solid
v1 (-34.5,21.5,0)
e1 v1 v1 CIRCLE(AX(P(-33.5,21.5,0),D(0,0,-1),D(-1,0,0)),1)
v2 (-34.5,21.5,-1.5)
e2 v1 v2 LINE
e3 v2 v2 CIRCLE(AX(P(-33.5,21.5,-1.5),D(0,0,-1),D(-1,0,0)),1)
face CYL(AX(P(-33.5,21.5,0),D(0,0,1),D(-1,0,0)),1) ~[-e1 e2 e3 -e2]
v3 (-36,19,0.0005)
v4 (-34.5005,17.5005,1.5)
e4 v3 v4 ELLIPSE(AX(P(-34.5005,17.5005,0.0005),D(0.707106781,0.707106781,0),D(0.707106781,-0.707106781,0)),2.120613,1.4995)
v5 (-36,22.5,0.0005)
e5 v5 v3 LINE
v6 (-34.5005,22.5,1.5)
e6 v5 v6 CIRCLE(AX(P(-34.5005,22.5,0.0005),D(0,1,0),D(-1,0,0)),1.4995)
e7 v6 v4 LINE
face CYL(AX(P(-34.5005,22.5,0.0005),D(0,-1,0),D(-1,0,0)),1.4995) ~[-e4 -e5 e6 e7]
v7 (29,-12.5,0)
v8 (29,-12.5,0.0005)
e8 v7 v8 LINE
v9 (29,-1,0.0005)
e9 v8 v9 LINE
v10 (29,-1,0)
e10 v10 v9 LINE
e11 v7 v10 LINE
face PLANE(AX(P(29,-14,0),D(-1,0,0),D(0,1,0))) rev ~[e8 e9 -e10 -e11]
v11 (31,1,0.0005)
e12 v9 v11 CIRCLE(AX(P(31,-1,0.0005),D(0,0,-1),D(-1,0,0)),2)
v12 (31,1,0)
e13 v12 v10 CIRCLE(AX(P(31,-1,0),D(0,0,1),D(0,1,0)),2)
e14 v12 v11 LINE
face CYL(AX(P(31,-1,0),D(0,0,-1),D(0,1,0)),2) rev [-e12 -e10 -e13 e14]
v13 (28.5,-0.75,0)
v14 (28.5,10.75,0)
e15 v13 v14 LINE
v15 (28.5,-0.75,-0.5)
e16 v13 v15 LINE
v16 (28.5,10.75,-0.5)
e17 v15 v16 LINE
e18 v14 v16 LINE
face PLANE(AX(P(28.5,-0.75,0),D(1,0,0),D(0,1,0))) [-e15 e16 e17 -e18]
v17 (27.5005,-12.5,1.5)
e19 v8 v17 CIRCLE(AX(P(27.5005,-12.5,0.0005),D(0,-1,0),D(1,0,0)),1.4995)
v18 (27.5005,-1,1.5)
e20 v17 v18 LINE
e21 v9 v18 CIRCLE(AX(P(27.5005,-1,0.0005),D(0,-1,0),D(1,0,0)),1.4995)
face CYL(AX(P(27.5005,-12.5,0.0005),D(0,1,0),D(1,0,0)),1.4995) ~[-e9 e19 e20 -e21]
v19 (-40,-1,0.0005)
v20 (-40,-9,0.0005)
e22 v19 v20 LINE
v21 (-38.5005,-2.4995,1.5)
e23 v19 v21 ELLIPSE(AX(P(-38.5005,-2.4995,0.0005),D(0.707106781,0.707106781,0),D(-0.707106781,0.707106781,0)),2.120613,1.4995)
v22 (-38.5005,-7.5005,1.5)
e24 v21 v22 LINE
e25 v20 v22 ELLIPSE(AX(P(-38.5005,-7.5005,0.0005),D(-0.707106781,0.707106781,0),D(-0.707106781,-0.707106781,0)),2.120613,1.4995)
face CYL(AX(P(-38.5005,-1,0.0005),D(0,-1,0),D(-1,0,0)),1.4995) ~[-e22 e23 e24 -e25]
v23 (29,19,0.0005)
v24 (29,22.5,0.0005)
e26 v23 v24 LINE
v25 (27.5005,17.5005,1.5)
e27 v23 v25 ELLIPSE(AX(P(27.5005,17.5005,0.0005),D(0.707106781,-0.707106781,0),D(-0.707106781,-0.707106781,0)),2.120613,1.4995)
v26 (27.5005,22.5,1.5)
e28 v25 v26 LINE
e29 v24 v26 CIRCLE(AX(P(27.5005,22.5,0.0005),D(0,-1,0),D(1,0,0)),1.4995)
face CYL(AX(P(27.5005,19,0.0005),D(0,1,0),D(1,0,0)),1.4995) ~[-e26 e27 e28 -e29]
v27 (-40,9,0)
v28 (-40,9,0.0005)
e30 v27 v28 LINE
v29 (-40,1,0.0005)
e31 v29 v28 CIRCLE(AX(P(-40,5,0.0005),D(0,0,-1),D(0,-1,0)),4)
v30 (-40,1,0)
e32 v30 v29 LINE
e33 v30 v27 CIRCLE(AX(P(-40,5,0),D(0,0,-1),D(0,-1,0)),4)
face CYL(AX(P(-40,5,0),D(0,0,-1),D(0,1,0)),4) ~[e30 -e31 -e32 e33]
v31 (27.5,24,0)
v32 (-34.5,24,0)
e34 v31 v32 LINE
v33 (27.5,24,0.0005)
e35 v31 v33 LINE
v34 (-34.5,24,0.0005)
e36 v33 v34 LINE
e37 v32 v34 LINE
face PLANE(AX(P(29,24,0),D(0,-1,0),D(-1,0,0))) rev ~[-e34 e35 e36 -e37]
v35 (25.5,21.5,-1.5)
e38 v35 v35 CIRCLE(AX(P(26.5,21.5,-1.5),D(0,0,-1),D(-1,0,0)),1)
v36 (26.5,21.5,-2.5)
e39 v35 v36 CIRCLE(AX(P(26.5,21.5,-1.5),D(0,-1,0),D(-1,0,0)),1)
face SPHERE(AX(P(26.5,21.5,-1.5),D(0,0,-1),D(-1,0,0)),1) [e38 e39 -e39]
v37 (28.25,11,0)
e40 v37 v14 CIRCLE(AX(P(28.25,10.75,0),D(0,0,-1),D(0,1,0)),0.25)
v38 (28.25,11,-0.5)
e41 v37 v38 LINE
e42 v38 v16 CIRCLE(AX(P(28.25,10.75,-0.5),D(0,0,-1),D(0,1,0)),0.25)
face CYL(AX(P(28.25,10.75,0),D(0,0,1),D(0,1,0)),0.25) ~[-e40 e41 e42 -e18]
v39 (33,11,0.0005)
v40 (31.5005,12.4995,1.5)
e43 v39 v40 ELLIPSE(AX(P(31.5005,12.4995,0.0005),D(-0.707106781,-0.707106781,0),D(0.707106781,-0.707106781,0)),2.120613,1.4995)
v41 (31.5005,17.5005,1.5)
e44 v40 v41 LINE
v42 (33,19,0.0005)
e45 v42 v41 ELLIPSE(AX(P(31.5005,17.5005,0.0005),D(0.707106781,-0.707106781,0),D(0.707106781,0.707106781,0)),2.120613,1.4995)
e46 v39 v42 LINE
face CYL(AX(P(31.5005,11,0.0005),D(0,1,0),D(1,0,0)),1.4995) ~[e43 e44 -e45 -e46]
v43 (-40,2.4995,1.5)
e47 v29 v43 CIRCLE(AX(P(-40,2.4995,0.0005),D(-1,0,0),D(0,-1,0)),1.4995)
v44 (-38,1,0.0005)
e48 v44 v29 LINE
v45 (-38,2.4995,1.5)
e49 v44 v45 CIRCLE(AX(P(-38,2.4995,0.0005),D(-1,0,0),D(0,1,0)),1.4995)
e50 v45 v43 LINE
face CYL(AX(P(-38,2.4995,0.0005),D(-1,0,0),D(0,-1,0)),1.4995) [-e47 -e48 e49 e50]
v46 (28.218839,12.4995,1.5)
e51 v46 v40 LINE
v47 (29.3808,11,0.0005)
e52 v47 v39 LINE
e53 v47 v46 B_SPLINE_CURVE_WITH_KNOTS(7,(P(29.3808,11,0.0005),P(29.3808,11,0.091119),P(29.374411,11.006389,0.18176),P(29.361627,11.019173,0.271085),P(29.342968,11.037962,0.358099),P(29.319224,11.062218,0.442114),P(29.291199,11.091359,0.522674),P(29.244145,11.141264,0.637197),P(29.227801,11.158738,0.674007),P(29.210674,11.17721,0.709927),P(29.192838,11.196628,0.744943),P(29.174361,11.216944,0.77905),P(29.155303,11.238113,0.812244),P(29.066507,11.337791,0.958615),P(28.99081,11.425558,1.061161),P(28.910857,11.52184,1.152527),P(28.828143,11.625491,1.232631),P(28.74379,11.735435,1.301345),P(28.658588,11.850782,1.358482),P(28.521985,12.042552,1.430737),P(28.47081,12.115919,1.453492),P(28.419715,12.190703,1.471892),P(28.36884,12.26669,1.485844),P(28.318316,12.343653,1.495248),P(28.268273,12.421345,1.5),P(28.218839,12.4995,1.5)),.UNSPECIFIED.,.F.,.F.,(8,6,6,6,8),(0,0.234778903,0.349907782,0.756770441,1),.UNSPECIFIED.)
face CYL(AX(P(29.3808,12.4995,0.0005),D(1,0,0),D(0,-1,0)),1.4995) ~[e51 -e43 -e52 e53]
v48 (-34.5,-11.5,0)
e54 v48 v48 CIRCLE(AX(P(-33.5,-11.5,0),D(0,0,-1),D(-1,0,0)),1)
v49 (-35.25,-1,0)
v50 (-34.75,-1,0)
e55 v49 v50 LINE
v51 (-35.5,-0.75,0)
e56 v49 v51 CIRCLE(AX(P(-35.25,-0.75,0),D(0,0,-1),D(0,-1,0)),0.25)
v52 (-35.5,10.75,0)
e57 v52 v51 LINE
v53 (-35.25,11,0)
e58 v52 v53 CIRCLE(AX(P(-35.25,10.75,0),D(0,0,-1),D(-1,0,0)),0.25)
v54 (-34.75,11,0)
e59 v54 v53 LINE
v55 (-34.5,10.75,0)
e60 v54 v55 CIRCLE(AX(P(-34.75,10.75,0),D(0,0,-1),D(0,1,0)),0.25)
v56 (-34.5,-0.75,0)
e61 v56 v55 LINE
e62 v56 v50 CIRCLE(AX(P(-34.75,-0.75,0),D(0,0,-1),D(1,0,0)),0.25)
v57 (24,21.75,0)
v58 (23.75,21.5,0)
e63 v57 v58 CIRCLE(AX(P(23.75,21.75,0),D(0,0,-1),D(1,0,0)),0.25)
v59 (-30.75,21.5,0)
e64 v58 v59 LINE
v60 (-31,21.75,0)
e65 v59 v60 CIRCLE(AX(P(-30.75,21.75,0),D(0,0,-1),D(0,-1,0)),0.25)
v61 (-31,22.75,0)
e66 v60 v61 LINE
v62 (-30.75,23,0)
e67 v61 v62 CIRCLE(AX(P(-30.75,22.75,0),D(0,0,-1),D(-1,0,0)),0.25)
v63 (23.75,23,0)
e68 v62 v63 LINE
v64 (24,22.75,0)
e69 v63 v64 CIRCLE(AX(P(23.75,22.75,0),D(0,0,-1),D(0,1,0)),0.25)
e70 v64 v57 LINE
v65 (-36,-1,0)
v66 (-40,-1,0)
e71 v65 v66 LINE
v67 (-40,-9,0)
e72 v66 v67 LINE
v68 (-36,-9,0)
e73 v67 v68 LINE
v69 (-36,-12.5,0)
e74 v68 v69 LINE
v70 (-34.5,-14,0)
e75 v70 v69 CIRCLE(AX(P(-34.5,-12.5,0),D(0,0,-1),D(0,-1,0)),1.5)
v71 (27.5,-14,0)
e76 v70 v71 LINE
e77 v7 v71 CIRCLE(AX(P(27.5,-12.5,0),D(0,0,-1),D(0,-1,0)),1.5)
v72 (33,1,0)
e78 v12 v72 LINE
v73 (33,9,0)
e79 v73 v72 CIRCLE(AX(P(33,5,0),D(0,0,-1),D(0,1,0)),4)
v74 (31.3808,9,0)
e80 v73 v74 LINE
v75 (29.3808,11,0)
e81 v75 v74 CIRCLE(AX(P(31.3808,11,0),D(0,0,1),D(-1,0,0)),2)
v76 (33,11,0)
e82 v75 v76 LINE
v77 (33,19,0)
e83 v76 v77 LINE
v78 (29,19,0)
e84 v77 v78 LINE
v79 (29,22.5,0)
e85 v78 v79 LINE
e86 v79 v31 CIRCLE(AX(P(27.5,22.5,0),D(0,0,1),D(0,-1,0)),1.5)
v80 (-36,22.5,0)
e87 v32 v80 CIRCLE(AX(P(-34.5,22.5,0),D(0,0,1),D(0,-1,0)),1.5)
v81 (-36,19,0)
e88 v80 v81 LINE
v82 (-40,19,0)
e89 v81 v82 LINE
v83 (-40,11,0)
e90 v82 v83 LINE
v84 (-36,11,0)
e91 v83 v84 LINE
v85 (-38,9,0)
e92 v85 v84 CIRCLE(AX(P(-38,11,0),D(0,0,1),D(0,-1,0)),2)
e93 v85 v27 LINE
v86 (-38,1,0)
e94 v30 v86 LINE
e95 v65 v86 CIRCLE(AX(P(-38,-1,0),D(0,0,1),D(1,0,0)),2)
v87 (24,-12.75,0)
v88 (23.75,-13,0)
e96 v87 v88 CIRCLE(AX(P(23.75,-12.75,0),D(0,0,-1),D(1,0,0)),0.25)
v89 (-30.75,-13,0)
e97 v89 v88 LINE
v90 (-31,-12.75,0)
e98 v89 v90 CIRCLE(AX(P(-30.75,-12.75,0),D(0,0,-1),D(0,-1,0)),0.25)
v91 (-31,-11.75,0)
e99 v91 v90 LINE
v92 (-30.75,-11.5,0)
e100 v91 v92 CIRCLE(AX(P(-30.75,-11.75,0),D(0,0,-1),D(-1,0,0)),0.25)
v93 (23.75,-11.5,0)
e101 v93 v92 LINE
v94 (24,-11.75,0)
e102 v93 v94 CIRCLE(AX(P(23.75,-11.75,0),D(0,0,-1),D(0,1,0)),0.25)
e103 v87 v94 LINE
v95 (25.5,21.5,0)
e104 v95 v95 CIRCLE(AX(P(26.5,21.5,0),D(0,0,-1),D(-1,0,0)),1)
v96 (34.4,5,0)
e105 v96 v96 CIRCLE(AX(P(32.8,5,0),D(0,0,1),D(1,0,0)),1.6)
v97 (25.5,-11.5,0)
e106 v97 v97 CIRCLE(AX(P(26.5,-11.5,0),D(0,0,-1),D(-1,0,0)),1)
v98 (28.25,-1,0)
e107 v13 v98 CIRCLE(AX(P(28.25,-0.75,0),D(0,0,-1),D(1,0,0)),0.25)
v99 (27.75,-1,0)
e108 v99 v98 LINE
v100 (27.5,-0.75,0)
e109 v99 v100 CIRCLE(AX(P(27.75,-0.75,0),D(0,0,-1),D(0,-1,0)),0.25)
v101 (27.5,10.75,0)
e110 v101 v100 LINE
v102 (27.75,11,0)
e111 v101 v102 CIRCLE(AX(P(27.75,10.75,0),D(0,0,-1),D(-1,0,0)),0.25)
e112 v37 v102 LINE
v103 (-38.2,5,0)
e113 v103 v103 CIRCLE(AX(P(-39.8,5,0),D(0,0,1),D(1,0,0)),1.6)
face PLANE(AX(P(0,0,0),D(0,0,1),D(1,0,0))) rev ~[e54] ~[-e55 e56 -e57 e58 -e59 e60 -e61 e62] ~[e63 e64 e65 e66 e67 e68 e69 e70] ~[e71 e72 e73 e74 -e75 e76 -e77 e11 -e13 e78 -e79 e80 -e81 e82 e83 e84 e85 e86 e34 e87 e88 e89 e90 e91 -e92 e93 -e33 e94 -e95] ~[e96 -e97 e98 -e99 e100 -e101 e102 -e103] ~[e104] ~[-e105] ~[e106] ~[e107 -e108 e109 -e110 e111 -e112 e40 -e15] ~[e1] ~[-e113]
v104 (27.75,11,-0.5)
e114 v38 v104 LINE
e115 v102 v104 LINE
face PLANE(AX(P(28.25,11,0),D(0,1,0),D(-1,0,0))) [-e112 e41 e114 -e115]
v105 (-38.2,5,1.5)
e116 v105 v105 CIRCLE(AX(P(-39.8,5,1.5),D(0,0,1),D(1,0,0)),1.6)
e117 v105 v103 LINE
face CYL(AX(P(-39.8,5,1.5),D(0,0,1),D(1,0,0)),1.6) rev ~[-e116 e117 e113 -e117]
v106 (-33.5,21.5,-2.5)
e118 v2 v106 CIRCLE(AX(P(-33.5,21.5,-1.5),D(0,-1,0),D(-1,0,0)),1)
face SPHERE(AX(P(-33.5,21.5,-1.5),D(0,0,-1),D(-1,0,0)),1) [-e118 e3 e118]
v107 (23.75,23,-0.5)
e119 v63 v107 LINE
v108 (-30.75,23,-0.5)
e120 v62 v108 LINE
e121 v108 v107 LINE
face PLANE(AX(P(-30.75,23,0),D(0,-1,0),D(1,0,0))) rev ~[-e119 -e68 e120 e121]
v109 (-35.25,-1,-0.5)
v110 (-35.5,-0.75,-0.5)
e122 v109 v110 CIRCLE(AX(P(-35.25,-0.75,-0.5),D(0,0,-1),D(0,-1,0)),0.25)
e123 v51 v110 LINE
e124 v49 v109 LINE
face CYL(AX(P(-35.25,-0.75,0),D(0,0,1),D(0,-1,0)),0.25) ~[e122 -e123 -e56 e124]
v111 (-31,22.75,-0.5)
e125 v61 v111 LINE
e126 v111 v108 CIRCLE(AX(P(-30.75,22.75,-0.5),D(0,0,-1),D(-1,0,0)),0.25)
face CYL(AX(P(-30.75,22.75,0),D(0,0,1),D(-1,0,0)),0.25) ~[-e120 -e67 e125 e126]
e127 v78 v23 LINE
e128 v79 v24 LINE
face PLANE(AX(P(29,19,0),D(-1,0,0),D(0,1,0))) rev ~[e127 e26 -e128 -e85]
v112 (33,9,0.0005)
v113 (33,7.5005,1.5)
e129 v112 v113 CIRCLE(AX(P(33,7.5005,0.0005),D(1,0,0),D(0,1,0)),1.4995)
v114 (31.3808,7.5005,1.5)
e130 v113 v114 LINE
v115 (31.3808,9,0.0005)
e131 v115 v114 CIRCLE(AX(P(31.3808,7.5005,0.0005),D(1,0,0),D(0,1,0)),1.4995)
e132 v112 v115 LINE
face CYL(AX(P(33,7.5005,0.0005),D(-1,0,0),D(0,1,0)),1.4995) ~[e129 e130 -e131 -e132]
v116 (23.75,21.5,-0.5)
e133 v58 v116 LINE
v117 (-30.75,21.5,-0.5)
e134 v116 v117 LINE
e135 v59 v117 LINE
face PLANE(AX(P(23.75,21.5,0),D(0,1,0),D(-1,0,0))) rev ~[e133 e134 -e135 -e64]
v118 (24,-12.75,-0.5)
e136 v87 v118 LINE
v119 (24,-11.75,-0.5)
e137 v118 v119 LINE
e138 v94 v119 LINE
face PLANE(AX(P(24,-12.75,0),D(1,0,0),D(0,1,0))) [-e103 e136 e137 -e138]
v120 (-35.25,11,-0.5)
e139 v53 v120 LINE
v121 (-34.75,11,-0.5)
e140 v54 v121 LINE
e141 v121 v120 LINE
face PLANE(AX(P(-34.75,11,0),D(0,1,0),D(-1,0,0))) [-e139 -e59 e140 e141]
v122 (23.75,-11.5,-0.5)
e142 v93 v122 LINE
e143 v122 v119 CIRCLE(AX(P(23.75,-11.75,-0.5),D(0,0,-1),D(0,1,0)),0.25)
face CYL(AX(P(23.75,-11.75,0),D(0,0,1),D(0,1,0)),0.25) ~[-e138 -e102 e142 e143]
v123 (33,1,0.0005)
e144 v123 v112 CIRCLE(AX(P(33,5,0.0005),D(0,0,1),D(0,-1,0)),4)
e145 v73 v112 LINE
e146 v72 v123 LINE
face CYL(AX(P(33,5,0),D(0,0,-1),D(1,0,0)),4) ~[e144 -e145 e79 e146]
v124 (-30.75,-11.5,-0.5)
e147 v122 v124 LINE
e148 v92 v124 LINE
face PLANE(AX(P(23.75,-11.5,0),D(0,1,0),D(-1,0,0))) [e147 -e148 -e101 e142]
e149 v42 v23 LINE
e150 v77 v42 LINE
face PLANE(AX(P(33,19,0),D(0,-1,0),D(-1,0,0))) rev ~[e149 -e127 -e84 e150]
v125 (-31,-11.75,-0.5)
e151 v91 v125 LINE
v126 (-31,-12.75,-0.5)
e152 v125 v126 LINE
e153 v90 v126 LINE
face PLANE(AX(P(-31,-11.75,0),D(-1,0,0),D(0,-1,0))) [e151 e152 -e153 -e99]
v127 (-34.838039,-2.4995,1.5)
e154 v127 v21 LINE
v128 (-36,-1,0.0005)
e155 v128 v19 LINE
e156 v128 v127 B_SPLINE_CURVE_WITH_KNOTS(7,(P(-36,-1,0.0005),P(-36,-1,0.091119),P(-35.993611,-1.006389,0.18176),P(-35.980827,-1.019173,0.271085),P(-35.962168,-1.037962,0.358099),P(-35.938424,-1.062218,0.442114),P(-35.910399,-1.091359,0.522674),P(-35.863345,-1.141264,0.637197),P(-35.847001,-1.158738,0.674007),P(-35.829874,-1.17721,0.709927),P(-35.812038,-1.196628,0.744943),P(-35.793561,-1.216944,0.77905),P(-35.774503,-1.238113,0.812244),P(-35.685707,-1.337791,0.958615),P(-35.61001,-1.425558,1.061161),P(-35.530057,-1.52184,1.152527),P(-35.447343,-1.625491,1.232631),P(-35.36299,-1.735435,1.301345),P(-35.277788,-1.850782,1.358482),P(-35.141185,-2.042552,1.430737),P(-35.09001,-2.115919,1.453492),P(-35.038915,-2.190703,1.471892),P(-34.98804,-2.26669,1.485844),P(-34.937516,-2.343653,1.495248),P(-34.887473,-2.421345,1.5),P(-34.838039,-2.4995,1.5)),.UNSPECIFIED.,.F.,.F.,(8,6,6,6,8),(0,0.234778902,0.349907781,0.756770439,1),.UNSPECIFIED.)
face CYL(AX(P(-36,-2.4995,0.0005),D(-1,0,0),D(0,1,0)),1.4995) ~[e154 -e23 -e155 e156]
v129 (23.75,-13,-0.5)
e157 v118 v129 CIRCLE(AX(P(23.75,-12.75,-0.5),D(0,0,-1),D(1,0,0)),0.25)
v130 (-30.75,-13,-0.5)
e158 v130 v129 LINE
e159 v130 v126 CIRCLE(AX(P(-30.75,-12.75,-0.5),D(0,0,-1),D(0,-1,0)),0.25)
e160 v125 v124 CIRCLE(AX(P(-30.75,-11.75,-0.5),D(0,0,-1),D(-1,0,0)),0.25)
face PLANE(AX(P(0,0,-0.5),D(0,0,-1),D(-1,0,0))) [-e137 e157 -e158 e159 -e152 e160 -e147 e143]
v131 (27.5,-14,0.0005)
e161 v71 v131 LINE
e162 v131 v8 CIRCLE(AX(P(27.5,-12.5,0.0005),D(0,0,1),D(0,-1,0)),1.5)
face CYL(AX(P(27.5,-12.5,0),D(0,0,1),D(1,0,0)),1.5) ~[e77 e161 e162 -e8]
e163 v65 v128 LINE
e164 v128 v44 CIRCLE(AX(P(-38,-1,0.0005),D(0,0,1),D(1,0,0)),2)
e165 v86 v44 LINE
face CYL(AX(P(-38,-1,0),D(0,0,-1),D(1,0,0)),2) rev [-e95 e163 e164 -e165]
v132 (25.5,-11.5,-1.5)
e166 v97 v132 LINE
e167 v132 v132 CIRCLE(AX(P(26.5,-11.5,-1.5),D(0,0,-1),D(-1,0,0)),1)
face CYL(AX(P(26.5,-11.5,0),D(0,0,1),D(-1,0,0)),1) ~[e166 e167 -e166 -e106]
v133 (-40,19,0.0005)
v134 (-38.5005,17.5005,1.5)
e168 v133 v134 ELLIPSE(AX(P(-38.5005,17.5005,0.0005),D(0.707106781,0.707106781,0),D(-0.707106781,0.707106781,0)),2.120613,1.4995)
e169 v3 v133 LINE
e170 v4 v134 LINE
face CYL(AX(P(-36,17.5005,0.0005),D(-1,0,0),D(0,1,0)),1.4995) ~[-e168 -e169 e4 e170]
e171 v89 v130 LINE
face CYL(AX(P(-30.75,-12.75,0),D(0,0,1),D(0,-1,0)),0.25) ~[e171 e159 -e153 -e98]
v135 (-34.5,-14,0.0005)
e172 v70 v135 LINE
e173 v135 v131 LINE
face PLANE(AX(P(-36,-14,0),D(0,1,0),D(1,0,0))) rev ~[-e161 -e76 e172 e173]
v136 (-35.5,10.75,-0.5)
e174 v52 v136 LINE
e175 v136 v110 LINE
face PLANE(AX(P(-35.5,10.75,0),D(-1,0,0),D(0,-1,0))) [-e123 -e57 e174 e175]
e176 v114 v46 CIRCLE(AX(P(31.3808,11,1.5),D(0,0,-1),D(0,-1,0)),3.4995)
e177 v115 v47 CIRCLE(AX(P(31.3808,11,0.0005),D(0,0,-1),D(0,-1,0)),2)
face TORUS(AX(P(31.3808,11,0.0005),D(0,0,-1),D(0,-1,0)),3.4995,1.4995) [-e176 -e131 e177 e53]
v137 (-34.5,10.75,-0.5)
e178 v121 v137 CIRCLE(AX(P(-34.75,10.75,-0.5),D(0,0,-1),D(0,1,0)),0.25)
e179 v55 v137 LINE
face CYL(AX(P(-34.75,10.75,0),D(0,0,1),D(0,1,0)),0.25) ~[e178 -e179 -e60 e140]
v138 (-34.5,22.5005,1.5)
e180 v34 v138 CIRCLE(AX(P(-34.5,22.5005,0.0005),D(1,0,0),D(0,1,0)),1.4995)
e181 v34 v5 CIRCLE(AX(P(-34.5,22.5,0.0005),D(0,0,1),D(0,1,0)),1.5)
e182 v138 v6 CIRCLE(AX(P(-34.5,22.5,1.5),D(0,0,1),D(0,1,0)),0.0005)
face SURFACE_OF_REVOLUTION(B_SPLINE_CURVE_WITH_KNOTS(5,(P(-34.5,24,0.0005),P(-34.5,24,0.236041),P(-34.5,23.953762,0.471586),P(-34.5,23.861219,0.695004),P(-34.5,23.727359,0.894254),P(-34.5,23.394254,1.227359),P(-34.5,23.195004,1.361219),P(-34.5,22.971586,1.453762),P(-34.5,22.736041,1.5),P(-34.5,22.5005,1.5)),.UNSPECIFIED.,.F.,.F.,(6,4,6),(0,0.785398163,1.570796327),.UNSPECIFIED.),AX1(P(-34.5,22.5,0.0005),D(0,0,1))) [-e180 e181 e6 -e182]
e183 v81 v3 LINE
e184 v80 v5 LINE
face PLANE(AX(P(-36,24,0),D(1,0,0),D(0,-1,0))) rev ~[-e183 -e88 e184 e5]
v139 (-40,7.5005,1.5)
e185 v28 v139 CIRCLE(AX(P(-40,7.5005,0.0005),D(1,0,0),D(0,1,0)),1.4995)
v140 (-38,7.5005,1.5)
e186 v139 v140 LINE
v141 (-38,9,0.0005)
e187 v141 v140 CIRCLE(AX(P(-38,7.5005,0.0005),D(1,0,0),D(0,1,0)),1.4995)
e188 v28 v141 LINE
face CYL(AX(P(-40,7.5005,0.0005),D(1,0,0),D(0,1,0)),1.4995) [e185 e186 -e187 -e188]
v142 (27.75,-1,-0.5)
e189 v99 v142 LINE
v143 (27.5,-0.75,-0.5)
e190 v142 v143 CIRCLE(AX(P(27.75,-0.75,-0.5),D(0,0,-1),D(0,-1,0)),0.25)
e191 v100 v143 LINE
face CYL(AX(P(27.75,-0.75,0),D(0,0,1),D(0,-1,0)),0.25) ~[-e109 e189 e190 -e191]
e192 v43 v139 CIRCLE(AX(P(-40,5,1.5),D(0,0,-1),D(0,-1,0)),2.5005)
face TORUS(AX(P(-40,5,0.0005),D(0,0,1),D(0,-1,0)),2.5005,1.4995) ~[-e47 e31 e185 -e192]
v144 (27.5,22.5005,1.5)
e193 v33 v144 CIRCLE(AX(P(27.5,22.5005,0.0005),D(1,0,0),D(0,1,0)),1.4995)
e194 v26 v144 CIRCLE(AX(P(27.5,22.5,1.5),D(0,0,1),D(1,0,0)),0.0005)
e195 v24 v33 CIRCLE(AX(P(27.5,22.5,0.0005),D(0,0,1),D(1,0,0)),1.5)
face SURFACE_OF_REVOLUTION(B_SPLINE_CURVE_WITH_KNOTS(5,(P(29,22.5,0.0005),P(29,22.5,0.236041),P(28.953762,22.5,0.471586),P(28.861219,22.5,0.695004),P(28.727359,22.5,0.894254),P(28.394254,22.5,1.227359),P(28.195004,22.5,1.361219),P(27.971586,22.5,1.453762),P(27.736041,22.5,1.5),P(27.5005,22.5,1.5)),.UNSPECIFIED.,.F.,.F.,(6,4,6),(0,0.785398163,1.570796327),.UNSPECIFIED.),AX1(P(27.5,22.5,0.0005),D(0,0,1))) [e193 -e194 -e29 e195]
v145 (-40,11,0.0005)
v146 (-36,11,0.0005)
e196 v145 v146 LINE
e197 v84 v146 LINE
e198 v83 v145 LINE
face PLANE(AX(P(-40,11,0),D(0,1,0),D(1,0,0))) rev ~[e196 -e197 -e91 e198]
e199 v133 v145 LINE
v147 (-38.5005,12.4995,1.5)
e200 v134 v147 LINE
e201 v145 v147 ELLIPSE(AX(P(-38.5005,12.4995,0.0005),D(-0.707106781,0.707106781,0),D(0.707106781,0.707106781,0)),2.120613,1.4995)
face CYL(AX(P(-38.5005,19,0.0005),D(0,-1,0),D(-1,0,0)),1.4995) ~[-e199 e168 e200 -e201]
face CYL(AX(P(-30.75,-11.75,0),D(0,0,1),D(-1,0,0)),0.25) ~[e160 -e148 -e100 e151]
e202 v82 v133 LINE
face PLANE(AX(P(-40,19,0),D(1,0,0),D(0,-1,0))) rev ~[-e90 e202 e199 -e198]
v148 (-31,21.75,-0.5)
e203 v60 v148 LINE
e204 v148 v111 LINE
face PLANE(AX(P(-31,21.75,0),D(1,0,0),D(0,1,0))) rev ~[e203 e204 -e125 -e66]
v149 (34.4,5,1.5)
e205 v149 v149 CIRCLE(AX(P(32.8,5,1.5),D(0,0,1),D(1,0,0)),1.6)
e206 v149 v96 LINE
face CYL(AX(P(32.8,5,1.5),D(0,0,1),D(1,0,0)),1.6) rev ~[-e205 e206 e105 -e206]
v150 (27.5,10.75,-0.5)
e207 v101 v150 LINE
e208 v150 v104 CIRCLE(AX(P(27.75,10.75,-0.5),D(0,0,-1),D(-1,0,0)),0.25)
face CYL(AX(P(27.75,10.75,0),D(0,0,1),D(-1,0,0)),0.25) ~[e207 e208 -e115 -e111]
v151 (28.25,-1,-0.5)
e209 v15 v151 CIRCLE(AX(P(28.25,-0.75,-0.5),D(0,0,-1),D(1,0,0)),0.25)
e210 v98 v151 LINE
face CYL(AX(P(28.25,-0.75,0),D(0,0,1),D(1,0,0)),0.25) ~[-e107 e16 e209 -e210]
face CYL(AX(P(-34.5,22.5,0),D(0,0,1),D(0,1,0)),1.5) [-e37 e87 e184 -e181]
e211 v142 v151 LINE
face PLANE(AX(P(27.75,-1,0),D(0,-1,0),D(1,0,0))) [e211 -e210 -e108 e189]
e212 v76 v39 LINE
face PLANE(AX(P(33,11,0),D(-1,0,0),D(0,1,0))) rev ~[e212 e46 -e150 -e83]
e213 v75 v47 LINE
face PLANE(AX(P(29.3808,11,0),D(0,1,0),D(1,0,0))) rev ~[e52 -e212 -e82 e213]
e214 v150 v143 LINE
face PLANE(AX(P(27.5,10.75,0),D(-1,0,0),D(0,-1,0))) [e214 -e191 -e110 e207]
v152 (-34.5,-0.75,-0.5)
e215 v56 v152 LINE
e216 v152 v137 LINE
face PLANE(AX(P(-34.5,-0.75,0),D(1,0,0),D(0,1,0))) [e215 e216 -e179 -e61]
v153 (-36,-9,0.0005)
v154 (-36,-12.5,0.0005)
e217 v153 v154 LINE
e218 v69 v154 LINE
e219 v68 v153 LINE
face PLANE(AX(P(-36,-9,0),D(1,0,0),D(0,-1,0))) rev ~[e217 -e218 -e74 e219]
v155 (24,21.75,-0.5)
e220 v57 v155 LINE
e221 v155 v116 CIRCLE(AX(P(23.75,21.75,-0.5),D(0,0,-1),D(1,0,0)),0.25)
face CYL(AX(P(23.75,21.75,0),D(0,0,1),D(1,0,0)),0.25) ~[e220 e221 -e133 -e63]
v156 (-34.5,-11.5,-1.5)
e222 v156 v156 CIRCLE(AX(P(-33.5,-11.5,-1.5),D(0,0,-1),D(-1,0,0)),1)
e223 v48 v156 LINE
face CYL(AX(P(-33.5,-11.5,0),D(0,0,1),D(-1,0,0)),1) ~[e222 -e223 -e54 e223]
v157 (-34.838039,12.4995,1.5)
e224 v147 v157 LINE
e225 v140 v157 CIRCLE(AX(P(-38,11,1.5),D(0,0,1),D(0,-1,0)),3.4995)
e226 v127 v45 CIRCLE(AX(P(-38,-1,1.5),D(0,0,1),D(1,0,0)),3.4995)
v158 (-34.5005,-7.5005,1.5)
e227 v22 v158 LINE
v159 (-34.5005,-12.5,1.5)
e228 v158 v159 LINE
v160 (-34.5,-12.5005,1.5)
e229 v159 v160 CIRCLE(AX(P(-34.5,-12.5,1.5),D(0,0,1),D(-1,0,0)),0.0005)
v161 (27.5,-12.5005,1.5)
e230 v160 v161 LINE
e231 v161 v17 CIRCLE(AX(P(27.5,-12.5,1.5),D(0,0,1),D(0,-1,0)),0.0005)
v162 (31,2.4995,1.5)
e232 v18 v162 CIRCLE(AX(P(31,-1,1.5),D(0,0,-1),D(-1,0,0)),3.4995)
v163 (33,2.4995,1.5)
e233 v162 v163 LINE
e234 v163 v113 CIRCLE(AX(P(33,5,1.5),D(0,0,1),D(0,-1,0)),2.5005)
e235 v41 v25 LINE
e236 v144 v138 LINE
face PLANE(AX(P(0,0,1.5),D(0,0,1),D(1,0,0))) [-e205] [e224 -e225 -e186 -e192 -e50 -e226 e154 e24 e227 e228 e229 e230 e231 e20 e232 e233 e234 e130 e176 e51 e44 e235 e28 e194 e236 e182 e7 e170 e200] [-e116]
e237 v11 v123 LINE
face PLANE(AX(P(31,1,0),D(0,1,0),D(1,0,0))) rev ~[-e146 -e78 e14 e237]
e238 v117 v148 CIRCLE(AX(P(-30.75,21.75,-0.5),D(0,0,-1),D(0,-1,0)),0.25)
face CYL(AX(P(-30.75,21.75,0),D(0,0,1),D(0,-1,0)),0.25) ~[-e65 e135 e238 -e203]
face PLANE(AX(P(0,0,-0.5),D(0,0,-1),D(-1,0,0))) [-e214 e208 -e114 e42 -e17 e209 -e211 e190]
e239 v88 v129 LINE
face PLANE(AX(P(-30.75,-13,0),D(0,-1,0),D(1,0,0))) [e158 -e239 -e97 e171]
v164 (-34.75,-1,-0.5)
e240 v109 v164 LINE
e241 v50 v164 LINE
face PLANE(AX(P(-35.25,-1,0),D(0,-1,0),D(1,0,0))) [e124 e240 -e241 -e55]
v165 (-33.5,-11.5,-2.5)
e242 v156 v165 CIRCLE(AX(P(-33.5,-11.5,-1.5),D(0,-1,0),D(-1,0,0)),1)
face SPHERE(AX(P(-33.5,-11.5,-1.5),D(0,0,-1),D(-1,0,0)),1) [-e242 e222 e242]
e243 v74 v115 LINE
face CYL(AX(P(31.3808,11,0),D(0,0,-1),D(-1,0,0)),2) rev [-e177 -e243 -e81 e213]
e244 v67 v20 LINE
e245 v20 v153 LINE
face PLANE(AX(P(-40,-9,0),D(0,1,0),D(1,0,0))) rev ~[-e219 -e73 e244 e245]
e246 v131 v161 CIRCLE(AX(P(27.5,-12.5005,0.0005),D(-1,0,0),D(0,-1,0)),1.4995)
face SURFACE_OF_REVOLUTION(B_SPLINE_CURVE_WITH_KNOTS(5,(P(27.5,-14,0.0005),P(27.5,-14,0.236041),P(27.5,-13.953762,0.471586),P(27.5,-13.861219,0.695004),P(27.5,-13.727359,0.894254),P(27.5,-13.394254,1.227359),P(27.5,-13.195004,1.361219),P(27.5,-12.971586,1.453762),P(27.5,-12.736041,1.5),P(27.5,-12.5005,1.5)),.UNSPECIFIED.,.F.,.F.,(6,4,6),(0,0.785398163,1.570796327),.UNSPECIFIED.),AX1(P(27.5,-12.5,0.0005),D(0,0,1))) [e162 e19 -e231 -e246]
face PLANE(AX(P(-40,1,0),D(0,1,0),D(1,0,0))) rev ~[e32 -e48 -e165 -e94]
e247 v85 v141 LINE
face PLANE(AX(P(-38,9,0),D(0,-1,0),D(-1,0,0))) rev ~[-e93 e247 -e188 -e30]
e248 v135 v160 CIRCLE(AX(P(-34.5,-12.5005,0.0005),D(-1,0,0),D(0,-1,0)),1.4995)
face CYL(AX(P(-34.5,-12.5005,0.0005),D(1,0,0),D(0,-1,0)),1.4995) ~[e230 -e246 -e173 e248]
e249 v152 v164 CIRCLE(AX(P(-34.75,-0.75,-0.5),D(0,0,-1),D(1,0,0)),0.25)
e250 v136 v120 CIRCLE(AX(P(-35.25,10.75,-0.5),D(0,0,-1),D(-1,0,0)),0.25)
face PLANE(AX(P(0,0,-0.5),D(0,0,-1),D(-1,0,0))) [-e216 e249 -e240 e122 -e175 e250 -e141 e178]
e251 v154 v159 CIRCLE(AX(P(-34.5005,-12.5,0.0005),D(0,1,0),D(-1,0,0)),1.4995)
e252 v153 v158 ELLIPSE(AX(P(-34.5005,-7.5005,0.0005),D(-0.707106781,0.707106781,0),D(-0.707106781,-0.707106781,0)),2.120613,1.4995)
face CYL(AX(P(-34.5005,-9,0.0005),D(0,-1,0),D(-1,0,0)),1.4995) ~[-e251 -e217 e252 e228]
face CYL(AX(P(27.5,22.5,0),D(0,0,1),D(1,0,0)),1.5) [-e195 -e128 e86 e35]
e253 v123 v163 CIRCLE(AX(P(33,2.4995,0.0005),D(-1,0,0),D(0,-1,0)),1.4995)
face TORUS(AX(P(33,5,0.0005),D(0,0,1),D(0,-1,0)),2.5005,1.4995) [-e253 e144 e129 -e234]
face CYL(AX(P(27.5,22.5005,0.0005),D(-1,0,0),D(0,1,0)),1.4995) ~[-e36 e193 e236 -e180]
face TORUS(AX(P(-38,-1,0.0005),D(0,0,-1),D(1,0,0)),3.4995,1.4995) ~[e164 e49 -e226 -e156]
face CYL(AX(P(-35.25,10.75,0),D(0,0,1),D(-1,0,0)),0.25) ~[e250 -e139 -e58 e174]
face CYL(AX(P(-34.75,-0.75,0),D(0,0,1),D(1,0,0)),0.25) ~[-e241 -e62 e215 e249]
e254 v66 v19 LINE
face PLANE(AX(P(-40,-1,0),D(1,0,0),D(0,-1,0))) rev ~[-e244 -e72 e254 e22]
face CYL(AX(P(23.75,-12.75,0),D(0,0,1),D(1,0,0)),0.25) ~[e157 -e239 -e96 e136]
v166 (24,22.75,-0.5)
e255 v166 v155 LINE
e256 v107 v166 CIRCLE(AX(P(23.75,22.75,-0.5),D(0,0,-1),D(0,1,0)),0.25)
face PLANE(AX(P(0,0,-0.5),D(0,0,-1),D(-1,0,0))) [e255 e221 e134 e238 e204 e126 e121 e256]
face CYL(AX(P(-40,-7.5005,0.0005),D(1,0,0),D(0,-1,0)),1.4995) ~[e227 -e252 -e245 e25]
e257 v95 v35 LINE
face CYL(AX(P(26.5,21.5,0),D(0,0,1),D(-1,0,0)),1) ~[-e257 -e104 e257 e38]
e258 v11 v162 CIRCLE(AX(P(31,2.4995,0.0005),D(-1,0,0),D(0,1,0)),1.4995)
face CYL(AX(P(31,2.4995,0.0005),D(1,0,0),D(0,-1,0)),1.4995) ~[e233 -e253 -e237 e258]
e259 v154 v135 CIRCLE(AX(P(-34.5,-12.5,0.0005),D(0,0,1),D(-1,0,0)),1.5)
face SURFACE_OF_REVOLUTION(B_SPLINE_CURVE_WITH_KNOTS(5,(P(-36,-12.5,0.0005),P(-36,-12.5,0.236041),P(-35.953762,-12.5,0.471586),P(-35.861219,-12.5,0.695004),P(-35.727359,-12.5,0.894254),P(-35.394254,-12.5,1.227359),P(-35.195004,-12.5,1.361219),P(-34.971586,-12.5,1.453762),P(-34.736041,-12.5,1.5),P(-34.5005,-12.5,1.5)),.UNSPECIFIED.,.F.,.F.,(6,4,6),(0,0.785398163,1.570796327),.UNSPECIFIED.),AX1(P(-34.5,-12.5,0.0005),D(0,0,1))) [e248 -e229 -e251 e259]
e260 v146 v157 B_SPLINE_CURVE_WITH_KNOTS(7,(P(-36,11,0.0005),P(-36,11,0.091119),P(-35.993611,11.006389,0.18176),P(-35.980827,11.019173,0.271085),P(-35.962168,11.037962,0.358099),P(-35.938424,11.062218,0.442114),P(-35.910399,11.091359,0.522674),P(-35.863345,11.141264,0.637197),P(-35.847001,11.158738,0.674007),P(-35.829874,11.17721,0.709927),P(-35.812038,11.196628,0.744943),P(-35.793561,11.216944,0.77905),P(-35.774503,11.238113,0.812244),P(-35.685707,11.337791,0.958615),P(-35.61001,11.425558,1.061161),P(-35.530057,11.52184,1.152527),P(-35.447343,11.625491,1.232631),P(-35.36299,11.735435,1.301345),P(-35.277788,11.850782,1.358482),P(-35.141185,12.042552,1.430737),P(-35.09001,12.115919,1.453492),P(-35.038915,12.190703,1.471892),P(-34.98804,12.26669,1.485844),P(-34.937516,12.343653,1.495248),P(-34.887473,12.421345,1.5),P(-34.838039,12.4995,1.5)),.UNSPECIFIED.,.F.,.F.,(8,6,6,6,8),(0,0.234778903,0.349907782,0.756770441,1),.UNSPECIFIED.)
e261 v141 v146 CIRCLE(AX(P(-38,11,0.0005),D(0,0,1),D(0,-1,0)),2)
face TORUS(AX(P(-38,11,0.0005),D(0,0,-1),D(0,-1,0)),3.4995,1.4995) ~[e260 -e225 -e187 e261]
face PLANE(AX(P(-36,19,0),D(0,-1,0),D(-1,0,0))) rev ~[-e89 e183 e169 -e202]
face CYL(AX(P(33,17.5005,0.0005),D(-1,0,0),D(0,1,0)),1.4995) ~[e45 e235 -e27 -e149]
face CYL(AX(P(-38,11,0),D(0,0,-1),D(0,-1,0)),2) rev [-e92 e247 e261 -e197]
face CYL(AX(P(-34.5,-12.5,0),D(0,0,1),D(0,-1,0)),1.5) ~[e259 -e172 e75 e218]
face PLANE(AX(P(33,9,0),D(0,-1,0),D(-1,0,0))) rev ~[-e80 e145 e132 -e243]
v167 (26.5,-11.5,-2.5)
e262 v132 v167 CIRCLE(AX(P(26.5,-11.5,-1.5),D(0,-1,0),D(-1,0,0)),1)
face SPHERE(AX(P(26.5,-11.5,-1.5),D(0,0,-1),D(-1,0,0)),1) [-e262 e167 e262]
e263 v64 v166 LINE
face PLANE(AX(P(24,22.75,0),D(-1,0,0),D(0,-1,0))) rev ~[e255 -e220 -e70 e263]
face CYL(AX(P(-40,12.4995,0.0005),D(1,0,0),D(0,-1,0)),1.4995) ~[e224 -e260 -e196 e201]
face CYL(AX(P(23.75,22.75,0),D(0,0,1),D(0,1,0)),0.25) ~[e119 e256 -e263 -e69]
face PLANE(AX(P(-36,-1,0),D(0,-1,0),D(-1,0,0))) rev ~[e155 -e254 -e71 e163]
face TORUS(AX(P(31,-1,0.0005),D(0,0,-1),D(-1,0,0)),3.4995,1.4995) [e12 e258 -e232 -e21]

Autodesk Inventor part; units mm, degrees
ref_plane "YZ Plane" through (0, 0, 0) normal (1, 0, 0) x (0, 1, 0)
ref_plane "XZ Plane" through (0, 0, 0) normal (0, 1, 0) x (-1, 0, 0)
ref_plane "XY Plane" through (0, 0, 0) normal (0, 0, 1) x (1, 0, 0)
sketch "Эскиз1" plane through (0, 0, 0) normal (0, 0, 1) x (1, 0, 0)
  line L0 (29, 24) -> (-36, 24)
  line L1 (-36, 24) -> (-36, 19)
  line L2 (-36, 19) -> (-40, 19)
  line L3 (-40, 19) -> (-40, 11)
  line L4 (-40, 11) -> (-36, 11)
  line L5 (-36, 11) -> (-36, 11)
  line L6 (-38, 9) -> (-40, 9)
  line L7 (-44, 5) -> (-44, 5)
  line L8 (-40, 1) -> (-38, 1)
  line L9 (-36, -1) -> (-36, -1)
  line L10 (-36, -1) -> (-40, -1)
  line L11 (-40, -1) -> (-40, -9)
  line L12 (-40, -9) -> (-36, -9)
  line L13 (-36, -9) -> (-36, -14)
  line L14 (-36, -14) -> (29, -14)
  line L15 (29, -14) -> (29, -1)
  line L16 (31, 1) -> (33, 1)
  line L17 (37, 5) -> (37, 5)
  line L18 (33, 9) -> (31.3808, 9)
  line L19 (29.3808, 11) -> (29.3808, 11)
  line L20 (29.3808, 11) -> (33, 11)
  line L21 (33, 11) -> (33, 11)
  line L22 (33, 11) -> (33, 19)
  line L23 (33, 19) -> (29, 19)
  line L24 (29, 19) -> (29, 24)
  arc A0 (29.3808, 11) -> (31.3808, 9) centre (31.3808, 11) ccw
  arc A1 (-38, 9) -> (-36, 11) centre (-38, 11) ccw
  arc A2 (-36, -1) -> (-38, 1) centre (-38, -1) ccw
  arc A3 (31, 1) -> (29, -1) centre (31, -1) ccw
  arc A4 (-40, 9) -> (-44, 5) centre (-40, 5) ccw
  arc A5 (-44, 5) -> (-40, 1) centre (-40, 5) ccw
  arc A6 (37, 5) -> (33, 9) centre (33, 5) ccw
  arc A7 (33, 1) -> (37, 5) centre (33, 5) ccw
  point P0 (-36, 9)
  point P1 (-44, 9)
  point P2 (-44, 1)
  point P3 (-36, 1)
  dimension "d0" = 65
  dimension "d1" = 65
  dimension "d2" = 4
  dimension "d3" = 38
  dimension "d4" = 8
  dimension "d5" = 2
  dimension "d6" = 2
  dimension "d7" = 8
  dimension "d8" = 8
  dimension "d11" = 4
  dimension "d12" = 8
  dimension "d13" = 2
  dimension "d14" = 8
  dimension "d16" = 8
  dimension "d17" = 2
  dimension "d18" = 8
  dimension "d19" = 4
  dimension "d20" = 2
  dimension "d21" = 4
  dimension "d68" = 19
  dimension "d69" = 19
extrude "Выдавливание1" add sketch "Эскиз1" along normal blind 1.5
sketch "Эскиз2" plane through (0, 0, 1.5) normal (0, 0, 1) x (1, 0, 0)
  circle A0 centre (-39.8, 5) radius 1.6
  circle A1 centre (32.8, 5) radius 1.6
  dimension "d53" = 3.2
  dimension "d54" = 3.2
  dimension "d55" = 72.6
extrude "Выдавливание2" cut sketch "Эскиз2" against normal blind 10
sketch "Эскиз3" plane through (0, 0, 0) normal (0, 0, -1) x (-1, 0, 0)
  line L0 (30.75, 23) -> (-23.75, 23)
  line L1 (-24, 22.75) -> (-24, 21.75)
  line L2 (-23.75, 21.5) -> (30.75, 21.5)
  line L3 (31, 21.75) -> (31, 22.75)
  line L4 (-23.75, -11.5) -> (30.75, -11.5)
  line L5 (31, -11.75) -> (31, -12.75)
  line L6 (30.75, -13) -> (-23.75, -13)
  line L7 (-24, -12.75) -> (-24, -11.75)
  line L8 (-28.25, 11) -> (-27.75, 11)
  line L9 (-27.5, 10.75) -> (-27.5, -0.75)
  line L10 (-27.75, -1) -> (-28.25, -1)
  line L11 (-28.5, -0.75) -> (-28.5, 10.75)
  line L12 (34.75, 11) -> (35.25, 11)
  line L13 (35.5, 10.75) -> (35.5, -0.75)
  line L14 (35.25, -1) -> (34.75, -1)
  line L15 (34.5, -0.75) -> (34.5, 10.75)
  line L16 (3.5, -14) -> (3.5, 26) construction
  arc A0 (-27.5, 10.75) -> (-27.75, 11) centre (-27.75, 10.75) ccw
  arc A1 (-28.25, 11) -> (-28.5, 10.75) centre (-28.25, 10.75) ccw
  arc A2 (-27.75, -1) -> (-27.5, -0.75) centre (-27.75, -0.75) ccw
  arc A3 (-28.5, -0.75) -> (-28.25, -1) centre (-28.25, -0.75) ccw
  arc A4 (35.5, 10.75) -> (35.25, 11) centre (35.25, 10.75) ccw
  arc A5 (34.75, 11) -> (34.5, 10.75) centre (34.75, 10.75) ccw
  arc A6 (35.25, -1) -> (35.5, -0.75) centre (35.25, -0.75) ccw
  arc A7 (34.5, -0.75) -> (34.75, -1) centre (34.75, -0.75) ccw
  arc A8 (30.75, 21.5) -> (31, 21.75) centre (30.75, 21.75) ccw
  arc A9 (31, 22.75) -> (30.75, 23) centre (30.75, 22.75) ccw
  arc A10 (-23.75, 23) -> (-24, 22.75) centre (-23.75, 22.75) ccw
  arc A11 (-24, 21.75) -> (-23.75, 21.5) centre (-23.75, 21.75) ccw
  arc A12 (-23.75, -11.5) -> (-24, -11.75) centre (-23.75, -11.75) ccw
  arc A13 (-24, -12.75) -> (-23.75, -13) centre (-23.75, -12.75) ccw
  arc A14 (-23.75, -11.5) -> (-24, -11.75) centre (-23.75, -11.75) ccw
  arc A15 (30.75, -13) -> (31, -12.75) centre (30.75, -12.75) ccw
  arc A16 (31, -11.75) -> (30.75, -11.5) centre (30.75, -11.75) ccw
  point P0 (31, 23)
  point P1 (-24, 23)
  point P2 (-24, 21.5)
  point P3 (31, 21.5)
  point P4 (-24, -11.5)
  point P5 (31, -11.5)
  point P6 (31, -13)
  point P7 (-24, -13)
  point P8 (-28.5, 11)
  point P9 (-27.5, 11)
  point P10 (-27.5, -1)
  point P11 (-28.5, -1)
  point P12 (34.5, 11)
  point P13 (35.5, 11)
  point P14 (35.5, -1)
  point P15 (34.5, -1)
  dimension "d19" = 4
  dimension "d30" = 55
  dimension "d32" = 55
  dimension "d35" = 1.5
  dimension "d37" = 1.5
  dimension "d38" = 12
  dimension "d39" = 12
  dimension "d40" = 1
  dimension "d41" = 1
  dimension "d49" = 27.5
  dimension "d50" = 27.5
  dimension "d58" = 0.25
  dimension "d59" = 0.25
extrude "Выдавливание3" add sketch "Эскиз3" along normal blind 0.5
sketch "Эскиз5" plane through (0, 0, 0) normal (0, 0, -1) x (-1, 0, 0)
  circle A0 centre (-32.8, 5) radius 1.6 projected
  circle A1 centre (39.8, 5) radius 1.6 projected
  circle A2 centre (-26.5, 21.5) radius 1
  circle A3 centre (33.5, 21.5) radius 1
  circle A4 centre (33.5, -11.5) radius 1
  circle A5 centre (-26.5, -11.5) radius 1
  dimension "d60" = 2
  dimension "d61" = 2
  dimension "d62" = 2
  dimension "d63" = 2
  dimension "d65" = 16.5
  dimension "d66" = 16.5
  dimension "d67" = 16.5
extrude "Выдавливание4" add sketch "Эскиз5" along normal blind 2.5 contours A2 | A3 | A4 | A5
fillet "Сопряжение3" radius 1 4 edges at (27.5, 21.5, -2.5) (27.5, -11.5, -2.5) (-32.5, -11.5, -2.5) (-32.5, 21.5, -2.5)
fillet "Сопряжение4" radius 1.5 4 edges at (-36, -14, 0.75) (29, -14, 0.75) (29, 24, 0.75) (-36, 24, 0.75)
fillet "Сопряжение5" radius 1.5 29 edges at (-3.5, -14, 1.5) (-35.5607, -13.5607, 1.5) (-36, -10.75, 1.5) (28.5607, -13.5607, 1.5) (29, -6.75, 1.5) (29.5858, 0.4142, 1.5) (32, 1, 1.5) (37, 5, 1.5) (32.1904, 9, 1.5) (29.9666, 9.5858, 1.5) (31.1904, 11, 1.5) (33, 15, 1.5) (31, 19, 1.5) (29, 20.75, 1.5) (28.5607, 23.5607, 1.5) (-3.5, 24, 1.5) (-35.5607, 23.5607, 1.5) (-36, 20.75, 1.5) (-38, 19, 1.5) (-38, 11, 1.5) (-40, 15, 1.5) (-36.5858, 9.5858, 1.5) (-39, 9, 1.5) (-44, 5, 1.5) (-39, 1, 1.5) (-36.5858, 0.4142, 1.5) (-38, -1, 1.5) (-40, -5, 1.5) (-38, -9, 1.5)
equation "\"Радиус_гибки\" = Толщина"
equation "\"Ширина_просечки\" = Толщина"
equation "\"Глубина_просечки\" = 0.5 * Толщина"
equation "\"Размер_высечки\" = 4 * Толщина"
equation "\"Мин_остаток\" = 2 * Толщина"
equation "\"Радиус_перехода\" = Радиус_гибки"
equation "\"Радиус_Якоби\" = Радиус_гибки"
equation "\"Размер_зазора\" = Толщина"
equation "\"Толщина\" = 0.5"
properties part number "крышка" material "По умолчанию"
